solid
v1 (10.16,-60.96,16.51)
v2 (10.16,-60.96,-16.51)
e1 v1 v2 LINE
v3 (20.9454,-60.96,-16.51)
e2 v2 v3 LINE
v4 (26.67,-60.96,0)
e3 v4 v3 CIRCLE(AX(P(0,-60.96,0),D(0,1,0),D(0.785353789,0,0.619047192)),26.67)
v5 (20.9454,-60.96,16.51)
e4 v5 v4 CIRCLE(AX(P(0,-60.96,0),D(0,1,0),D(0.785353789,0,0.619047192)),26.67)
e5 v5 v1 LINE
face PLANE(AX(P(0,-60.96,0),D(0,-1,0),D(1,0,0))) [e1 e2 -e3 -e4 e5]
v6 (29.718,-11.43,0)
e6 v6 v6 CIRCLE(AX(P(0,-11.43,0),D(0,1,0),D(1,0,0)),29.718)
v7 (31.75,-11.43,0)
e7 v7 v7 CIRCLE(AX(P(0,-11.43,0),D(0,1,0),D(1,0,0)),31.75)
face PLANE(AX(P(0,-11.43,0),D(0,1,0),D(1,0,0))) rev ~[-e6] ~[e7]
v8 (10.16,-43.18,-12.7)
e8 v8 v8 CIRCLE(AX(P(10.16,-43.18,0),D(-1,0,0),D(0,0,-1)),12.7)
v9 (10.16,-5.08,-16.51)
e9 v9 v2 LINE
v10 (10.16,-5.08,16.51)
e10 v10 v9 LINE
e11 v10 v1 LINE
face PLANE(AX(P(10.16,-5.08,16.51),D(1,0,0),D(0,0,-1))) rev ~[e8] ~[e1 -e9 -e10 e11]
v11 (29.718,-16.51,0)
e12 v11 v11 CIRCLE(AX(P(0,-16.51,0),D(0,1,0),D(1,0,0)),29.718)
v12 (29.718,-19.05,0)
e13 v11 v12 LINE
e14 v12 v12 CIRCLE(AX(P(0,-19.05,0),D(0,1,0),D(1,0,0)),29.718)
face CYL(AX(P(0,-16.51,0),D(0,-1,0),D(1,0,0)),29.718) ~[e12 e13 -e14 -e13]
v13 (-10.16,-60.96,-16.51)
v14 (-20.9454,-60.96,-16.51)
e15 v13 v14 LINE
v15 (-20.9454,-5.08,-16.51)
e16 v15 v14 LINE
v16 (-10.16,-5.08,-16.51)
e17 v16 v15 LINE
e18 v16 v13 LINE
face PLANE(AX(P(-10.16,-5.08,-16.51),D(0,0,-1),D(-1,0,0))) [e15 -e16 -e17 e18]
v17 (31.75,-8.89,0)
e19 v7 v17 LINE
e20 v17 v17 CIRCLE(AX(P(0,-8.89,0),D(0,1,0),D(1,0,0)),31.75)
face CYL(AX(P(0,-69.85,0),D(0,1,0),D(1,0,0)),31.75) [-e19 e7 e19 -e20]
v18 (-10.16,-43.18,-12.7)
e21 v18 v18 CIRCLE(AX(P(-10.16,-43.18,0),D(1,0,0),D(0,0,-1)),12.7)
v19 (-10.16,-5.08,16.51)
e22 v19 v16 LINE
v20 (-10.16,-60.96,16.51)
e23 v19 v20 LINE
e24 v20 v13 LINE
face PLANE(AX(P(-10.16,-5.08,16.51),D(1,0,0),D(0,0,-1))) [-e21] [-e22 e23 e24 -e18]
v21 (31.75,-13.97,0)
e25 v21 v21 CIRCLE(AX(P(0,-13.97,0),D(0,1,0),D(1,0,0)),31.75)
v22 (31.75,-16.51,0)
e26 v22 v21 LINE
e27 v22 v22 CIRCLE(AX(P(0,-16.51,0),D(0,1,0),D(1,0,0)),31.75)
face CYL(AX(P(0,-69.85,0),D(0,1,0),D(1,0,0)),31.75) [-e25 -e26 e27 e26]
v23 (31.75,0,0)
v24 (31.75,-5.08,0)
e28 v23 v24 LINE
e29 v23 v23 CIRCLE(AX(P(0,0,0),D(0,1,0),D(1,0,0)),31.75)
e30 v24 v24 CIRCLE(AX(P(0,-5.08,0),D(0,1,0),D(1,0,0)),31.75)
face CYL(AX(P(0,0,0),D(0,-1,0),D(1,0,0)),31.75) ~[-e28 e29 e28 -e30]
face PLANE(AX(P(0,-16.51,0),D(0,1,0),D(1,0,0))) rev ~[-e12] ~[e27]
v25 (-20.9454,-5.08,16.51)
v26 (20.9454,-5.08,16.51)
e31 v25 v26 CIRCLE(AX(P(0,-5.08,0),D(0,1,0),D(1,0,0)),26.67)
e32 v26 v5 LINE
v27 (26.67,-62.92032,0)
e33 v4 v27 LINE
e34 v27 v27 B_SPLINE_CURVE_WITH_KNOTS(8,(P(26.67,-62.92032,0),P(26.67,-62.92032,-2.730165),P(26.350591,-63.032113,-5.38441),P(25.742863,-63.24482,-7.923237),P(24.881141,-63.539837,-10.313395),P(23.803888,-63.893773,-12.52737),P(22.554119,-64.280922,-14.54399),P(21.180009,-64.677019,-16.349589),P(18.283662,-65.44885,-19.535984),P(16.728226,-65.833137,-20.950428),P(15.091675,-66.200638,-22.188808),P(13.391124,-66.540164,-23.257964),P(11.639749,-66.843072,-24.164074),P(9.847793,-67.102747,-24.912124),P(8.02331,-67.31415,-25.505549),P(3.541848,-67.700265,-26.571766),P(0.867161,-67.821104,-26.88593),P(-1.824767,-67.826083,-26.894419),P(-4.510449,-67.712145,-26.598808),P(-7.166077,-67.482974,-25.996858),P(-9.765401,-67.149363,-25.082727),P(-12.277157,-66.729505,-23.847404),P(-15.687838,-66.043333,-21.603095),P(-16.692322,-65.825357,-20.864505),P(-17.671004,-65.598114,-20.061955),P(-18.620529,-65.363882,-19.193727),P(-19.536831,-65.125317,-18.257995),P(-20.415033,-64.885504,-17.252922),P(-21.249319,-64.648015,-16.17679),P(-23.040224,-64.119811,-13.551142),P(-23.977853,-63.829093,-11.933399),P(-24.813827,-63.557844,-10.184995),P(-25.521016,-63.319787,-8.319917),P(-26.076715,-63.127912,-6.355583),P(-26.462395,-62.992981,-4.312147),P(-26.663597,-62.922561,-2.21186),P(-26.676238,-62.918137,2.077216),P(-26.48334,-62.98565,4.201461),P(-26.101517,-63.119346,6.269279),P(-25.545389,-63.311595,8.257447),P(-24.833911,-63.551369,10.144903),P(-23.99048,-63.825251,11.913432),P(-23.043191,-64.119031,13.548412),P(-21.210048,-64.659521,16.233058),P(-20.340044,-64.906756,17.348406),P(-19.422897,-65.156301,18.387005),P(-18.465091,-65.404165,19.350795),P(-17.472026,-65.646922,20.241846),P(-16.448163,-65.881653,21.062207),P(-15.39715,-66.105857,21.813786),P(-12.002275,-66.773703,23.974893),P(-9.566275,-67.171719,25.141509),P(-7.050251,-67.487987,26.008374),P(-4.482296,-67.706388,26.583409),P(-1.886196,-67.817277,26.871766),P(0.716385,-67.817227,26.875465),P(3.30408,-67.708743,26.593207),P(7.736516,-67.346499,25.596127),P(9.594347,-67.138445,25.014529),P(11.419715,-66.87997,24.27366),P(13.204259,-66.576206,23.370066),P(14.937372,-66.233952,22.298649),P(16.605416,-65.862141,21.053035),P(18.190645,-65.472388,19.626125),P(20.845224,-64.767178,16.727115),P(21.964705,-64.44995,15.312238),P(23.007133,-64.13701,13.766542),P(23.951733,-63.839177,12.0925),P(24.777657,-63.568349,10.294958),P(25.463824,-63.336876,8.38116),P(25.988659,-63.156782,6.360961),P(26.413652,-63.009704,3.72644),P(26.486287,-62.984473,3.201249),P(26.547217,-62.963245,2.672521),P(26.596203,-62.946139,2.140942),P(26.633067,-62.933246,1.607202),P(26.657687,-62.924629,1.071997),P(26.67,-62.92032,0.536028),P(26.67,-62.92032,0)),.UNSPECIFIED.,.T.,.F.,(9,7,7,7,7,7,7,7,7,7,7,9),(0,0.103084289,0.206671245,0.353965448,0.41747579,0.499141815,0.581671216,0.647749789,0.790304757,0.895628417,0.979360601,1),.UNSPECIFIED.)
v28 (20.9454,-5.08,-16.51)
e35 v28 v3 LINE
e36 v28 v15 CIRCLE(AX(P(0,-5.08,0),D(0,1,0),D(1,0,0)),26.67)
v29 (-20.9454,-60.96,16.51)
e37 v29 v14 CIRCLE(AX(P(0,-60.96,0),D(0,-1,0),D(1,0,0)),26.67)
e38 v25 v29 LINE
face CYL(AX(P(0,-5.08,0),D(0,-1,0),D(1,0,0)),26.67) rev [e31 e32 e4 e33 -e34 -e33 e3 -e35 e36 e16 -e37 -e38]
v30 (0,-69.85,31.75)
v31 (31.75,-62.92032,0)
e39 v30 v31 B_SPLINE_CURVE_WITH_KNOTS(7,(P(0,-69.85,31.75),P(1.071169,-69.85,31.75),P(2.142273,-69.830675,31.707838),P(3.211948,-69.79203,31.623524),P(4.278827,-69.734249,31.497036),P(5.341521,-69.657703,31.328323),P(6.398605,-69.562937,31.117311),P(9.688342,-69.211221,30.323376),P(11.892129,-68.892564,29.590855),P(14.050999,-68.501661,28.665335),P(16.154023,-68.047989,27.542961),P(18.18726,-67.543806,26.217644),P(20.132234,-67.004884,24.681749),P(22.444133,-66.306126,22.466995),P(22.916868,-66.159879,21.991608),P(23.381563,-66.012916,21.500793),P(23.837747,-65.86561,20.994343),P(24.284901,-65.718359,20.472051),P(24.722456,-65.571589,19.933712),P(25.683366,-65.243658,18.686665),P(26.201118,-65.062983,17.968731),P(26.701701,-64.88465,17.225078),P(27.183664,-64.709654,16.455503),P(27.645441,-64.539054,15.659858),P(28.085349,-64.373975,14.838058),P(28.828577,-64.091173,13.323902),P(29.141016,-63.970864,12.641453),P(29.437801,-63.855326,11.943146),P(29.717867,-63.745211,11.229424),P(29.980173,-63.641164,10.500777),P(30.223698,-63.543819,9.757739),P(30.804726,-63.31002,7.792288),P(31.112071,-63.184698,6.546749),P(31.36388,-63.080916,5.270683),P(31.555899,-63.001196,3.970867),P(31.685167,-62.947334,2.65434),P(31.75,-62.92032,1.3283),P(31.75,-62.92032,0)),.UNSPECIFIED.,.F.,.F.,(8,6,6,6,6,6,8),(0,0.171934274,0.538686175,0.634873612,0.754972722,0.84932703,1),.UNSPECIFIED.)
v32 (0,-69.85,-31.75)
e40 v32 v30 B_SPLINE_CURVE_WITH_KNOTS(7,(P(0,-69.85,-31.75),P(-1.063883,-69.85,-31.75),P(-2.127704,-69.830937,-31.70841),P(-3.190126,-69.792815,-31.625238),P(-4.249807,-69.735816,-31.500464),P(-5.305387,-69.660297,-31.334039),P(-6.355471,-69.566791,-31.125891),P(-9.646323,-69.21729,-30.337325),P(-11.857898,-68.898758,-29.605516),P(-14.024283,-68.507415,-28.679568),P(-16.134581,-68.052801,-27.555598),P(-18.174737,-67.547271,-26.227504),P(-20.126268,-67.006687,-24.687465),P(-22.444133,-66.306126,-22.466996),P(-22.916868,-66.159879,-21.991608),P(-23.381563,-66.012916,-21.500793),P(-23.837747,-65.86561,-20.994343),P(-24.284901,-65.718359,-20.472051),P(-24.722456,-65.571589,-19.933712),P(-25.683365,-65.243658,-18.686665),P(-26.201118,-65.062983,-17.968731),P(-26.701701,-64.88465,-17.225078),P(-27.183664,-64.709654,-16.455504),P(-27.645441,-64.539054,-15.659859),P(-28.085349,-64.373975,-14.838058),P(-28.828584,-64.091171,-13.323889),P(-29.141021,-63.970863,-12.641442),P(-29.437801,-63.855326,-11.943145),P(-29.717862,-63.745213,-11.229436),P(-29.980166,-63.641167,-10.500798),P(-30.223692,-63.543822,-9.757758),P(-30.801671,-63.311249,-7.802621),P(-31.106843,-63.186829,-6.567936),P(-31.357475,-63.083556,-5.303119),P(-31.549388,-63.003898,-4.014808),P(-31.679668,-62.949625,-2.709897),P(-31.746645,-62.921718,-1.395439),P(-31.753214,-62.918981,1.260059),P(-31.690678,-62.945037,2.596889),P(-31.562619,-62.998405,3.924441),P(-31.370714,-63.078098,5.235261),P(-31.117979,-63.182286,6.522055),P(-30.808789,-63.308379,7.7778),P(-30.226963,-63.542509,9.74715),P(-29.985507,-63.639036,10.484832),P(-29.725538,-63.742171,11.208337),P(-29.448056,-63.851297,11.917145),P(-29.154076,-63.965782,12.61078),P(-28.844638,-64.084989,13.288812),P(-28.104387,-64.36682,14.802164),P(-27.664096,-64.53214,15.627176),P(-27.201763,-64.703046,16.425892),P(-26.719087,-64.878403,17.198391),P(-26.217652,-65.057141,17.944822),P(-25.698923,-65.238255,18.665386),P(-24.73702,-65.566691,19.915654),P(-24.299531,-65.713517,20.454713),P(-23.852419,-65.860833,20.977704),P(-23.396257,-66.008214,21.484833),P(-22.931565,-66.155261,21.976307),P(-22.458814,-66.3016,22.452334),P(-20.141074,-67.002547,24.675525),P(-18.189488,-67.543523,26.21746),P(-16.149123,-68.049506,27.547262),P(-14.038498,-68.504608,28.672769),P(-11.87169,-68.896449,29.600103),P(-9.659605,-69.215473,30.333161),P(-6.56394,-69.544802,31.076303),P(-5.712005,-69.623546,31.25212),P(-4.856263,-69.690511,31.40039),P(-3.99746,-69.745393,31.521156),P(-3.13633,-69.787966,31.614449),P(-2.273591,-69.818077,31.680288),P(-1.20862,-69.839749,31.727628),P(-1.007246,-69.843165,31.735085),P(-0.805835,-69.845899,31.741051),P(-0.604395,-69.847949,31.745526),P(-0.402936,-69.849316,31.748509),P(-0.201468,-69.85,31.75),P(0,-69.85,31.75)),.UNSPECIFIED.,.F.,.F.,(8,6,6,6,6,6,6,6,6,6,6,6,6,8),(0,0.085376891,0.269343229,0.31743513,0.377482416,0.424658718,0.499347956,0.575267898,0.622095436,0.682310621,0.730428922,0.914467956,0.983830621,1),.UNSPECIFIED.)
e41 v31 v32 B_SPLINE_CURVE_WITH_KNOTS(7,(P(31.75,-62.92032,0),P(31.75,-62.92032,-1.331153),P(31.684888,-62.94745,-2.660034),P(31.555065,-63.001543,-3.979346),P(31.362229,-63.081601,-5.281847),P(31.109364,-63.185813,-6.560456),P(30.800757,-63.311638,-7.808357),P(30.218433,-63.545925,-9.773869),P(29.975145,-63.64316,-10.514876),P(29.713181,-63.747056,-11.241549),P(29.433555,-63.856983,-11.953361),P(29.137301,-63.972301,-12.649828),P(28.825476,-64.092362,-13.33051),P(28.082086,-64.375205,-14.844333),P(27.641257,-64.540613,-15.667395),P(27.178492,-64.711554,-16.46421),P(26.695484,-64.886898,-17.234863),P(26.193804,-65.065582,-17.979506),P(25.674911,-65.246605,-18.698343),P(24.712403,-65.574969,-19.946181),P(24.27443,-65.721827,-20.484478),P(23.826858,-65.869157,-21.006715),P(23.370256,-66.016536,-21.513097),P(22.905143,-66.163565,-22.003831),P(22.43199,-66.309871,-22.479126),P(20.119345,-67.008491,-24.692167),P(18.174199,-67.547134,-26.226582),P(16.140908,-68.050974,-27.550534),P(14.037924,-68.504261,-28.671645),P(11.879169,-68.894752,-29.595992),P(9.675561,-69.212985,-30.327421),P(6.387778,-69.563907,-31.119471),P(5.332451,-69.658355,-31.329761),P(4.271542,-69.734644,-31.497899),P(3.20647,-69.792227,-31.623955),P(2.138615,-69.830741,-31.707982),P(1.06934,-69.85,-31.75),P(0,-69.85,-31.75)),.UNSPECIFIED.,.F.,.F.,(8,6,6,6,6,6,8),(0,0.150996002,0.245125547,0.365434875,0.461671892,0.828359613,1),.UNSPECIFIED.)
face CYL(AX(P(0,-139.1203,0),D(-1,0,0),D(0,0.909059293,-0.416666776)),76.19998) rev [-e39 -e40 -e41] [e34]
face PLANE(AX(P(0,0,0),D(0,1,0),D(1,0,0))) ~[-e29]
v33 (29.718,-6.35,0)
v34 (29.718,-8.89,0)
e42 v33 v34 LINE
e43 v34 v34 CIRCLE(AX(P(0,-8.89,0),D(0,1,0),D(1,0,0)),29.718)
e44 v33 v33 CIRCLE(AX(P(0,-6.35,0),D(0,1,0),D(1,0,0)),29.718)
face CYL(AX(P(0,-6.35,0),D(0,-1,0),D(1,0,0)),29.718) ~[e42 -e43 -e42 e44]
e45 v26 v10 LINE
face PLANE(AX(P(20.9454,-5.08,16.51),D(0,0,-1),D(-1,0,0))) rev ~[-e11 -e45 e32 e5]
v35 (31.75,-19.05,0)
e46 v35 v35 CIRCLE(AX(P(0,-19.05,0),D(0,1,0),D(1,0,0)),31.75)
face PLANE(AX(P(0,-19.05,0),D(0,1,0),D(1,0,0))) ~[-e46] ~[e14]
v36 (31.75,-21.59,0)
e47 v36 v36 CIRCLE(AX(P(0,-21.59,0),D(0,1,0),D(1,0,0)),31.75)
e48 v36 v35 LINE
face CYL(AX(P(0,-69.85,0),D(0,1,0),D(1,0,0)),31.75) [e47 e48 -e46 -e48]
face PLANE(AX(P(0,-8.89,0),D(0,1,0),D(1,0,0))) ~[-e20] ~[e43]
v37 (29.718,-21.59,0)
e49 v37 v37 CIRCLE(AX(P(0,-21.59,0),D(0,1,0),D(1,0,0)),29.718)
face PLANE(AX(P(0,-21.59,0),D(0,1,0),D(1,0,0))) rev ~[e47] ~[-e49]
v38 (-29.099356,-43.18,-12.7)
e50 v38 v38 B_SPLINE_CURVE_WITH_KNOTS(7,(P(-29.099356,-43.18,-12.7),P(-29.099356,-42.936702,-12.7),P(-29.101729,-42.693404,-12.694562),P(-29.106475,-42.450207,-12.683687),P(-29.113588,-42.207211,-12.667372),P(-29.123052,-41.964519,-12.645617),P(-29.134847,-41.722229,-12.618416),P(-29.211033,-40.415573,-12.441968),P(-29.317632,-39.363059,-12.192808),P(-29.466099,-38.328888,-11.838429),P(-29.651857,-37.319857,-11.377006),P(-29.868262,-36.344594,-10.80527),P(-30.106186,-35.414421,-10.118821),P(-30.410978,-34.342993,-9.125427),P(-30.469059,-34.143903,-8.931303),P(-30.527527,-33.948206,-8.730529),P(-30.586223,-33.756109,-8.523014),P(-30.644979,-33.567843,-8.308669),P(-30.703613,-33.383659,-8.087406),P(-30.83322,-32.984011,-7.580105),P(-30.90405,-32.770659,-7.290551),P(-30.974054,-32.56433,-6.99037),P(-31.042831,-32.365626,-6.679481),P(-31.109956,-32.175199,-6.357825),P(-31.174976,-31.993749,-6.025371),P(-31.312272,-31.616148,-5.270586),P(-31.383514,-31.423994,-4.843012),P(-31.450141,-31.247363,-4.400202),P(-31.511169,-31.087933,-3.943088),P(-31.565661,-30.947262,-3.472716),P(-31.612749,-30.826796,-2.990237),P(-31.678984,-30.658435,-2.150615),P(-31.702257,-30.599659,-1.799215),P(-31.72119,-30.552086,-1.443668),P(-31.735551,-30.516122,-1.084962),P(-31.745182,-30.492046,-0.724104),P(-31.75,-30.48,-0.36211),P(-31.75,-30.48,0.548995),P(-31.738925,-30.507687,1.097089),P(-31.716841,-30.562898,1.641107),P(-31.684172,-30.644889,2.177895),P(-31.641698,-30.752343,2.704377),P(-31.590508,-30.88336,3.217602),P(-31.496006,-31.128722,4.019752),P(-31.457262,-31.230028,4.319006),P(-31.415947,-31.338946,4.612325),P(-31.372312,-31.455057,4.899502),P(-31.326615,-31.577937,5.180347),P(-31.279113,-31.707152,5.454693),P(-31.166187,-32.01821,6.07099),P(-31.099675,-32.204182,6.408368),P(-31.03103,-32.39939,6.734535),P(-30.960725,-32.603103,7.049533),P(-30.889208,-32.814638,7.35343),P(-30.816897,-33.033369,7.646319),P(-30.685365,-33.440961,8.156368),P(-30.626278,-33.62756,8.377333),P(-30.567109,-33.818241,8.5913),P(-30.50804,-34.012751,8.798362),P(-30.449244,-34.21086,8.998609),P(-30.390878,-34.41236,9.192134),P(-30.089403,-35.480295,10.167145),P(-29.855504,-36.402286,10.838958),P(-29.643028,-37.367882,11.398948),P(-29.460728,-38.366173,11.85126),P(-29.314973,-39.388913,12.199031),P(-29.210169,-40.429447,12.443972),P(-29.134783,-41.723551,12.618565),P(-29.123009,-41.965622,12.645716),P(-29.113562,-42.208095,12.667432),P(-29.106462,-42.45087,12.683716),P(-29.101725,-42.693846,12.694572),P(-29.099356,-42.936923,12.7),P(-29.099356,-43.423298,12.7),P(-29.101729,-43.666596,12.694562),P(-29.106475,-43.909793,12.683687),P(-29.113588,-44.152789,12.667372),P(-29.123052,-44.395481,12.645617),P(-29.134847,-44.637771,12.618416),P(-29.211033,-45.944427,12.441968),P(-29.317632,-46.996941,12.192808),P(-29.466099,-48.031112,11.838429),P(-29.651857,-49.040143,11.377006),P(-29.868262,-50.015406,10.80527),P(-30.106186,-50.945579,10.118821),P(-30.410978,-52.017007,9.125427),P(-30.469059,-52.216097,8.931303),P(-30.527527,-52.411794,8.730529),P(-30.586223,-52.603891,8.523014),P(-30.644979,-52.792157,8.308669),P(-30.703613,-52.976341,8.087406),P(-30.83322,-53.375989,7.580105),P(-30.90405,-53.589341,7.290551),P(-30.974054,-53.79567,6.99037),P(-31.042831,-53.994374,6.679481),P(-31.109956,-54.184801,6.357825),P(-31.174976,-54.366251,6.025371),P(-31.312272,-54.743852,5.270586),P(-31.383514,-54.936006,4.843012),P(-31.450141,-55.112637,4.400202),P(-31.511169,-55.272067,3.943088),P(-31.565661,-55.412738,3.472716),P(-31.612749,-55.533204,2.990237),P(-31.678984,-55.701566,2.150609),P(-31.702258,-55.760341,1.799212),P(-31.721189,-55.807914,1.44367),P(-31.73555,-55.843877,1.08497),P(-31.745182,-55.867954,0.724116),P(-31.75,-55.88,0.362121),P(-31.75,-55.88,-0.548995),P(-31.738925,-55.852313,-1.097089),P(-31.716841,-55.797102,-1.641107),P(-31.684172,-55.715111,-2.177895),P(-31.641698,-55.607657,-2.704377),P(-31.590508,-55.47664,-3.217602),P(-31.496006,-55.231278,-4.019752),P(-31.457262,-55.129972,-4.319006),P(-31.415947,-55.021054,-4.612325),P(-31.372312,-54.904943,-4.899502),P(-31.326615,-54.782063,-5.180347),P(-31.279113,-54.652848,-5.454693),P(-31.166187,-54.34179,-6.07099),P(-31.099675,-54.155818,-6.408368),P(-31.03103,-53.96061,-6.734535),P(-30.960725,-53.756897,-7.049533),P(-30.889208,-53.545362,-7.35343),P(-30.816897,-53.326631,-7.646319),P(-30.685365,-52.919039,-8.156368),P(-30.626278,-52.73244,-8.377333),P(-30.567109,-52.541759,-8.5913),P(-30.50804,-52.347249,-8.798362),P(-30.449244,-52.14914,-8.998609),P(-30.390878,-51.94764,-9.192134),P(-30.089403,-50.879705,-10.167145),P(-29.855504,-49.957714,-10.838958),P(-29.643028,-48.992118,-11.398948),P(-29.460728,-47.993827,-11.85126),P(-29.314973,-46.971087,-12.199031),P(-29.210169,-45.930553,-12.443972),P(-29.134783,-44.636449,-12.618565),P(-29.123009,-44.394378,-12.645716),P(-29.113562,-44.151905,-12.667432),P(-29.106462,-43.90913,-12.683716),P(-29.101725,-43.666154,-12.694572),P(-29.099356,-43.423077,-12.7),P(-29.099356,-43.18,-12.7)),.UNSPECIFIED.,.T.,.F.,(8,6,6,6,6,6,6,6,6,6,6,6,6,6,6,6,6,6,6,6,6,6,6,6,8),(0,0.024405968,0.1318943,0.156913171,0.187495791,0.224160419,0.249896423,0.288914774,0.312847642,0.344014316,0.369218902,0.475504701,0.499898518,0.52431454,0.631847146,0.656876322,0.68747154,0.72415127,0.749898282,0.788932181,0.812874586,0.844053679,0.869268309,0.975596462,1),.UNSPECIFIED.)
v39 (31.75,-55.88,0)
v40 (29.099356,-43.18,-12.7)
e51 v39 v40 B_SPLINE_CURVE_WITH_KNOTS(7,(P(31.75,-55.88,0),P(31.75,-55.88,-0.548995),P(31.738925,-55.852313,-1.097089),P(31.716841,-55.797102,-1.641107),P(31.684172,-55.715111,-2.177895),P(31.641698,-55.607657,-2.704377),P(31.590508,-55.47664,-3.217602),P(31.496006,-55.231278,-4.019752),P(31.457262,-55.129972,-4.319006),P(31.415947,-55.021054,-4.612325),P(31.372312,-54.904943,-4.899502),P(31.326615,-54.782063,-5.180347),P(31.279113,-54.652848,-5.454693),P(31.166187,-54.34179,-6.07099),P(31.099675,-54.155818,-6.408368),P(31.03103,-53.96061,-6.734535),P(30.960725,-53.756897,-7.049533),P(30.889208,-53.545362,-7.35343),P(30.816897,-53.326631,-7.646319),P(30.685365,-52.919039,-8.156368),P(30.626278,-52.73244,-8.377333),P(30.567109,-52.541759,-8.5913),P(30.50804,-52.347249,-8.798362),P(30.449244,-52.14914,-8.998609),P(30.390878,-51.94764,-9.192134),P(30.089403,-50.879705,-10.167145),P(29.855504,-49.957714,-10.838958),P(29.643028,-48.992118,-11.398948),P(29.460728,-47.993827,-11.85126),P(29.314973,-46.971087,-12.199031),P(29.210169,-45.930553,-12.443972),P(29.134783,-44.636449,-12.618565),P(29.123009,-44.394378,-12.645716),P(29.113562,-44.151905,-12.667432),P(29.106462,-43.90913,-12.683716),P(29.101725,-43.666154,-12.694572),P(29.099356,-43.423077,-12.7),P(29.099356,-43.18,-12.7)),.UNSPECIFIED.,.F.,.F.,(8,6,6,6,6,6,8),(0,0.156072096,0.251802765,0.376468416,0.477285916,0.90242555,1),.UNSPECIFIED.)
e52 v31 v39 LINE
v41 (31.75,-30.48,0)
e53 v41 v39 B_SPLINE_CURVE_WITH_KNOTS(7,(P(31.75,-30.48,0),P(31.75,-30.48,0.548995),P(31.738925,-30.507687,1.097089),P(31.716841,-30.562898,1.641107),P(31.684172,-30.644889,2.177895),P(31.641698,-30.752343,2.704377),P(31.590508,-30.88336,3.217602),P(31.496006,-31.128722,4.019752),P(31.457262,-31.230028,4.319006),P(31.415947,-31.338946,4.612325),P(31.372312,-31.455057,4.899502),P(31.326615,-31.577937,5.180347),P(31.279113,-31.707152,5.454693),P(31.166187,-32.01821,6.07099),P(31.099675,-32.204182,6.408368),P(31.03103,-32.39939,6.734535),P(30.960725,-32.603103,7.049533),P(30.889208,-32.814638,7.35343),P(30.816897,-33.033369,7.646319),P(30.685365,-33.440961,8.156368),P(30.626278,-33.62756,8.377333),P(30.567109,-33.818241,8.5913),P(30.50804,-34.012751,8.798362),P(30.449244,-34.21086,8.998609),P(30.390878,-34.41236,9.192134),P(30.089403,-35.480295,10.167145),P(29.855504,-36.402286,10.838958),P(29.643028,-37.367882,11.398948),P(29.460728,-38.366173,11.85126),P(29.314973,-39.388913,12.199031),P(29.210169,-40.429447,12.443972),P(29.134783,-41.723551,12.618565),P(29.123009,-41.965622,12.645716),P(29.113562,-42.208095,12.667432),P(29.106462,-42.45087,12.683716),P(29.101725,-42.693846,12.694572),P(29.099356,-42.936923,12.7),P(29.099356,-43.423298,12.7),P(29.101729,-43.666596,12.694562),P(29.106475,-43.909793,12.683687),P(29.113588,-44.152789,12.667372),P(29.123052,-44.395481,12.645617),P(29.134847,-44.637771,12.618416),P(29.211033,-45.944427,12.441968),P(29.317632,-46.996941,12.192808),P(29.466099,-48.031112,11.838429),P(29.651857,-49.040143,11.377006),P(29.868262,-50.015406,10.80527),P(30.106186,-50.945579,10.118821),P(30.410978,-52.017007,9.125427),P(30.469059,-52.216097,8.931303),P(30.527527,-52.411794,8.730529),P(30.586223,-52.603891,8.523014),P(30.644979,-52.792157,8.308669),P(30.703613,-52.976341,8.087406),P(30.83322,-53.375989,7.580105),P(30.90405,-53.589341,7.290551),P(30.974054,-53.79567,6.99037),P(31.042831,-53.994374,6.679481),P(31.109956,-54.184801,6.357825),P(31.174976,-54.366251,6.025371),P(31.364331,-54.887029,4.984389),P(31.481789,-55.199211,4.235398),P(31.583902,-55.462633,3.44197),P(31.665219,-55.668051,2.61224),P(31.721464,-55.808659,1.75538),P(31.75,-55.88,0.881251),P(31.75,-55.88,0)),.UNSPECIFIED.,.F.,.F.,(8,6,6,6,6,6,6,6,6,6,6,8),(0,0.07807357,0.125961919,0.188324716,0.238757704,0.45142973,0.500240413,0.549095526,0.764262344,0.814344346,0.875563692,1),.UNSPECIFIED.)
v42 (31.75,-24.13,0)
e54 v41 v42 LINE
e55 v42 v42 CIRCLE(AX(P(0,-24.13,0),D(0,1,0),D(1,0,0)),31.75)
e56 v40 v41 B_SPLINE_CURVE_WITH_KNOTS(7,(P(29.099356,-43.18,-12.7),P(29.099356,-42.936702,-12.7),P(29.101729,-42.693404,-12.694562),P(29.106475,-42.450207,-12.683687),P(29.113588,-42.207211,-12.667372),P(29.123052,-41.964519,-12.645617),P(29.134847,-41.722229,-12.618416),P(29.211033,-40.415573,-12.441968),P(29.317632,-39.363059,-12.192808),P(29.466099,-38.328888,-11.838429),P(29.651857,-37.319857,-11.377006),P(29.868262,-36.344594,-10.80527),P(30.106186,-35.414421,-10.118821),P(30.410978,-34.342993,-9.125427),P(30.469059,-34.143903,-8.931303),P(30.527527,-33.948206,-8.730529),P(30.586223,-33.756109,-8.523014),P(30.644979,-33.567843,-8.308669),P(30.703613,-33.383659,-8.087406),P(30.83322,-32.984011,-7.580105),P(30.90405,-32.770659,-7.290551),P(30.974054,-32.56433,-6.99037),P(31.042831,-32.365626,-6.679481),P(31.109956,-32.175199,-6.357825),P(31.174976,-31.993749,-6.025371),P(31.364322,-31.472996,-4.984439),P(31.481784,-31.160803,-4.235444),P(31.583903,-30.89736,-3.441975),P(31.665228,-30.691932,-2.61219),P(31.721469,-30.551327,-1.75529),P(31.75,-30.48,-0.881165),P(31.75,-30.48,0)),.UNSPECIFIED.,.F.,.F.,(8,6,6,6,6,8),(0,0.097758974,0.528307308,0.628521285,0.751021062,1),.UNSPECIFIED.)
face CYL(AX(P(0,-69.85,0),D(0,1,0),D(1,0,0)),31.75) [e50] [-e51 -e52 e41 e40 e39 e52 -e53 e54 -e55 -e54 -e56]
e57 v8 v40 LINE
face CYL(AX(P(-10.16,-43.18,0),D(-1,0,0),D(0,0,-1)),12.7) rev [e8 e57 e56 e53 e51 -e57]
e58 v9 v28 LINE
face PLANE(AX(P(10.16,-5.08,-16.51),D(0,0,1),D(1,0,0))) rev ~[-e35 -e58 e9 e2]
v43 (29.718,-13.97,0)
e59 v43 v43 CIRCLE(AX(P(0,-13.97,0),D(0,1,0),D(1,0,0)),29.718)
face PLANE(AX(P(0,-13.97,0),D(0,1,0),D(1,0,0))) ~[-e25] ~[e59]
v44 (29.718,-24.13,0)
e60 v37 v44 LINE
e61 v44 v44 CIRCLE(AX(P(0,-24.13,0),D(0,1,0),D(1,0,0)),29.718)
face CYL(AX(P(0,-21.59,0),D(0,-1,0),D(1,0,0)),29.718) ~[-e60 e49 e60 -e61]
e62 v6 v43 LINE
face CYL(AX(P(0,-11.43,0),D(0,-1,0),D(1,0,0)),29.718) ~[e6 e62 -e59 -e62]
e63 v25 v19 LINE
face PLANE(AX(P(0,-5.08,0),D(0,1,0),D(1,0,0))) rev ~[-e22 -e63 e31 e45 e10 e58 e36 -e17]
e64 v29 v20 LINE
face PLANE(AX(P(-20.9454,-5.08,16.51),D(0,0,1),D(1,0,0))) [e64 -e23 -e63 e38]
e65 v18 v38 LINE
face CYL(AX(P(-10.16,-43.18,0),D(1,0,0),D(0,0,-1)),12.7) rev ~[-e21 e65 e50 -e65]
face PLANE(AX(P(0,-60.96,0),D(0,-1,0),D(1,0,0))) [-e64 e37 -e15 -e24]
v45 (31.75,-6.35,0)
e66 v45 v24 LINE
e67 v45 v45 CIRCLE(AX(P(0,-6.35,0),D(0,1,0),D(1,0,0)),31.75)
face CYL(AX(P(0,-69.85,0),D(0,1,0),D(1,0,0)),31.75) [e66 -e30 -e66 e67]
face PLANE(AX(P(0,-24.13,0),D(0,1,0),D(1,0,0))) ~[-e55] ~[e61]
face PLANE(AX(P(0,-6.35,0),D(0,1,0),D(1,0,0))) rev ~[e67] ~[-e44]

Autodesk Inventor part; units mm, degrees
ref_plane "YZ Plane" through (0, 0, 0) normal (1, 0, 0) x (0, 1, 0)
ref_plane "XZ Plane" through (0, 0, 0) normal (0, 1, 0) x (-1, 0, 0)
ref_plane "XY Plane" through (0, 0, 0) normal (0, 0, 1) x (1, 0, 0)
sketch "Sketch1" plane through (0, 0, 0) normal (0, 0, 1) x (1, 0, 0)
  line L0 (0, 0) -> (31.75, 0)
  line L1 (31.75, 0) -> (31.75, -5.08)
  line L2 (31.75, -5.08) -> (0, -5.08)
  line L3 (0, -5.08) -> (0, 0)
  line L4 (31.75, -5.08) -> (26.67, -5.08)
  line L5 (26.67, -5.08) -> (26.67, -69.85)
  line L6 (26.67, -69.85) -> (31.75, -69.85)
  line L7 (31.75, -69.85) -> (31.75, -5.08)
  line L8 (0, 0) -> (0, 62.0882)
  line L9 (31.75, -6.35) -> (29.718, -6.35)
  line L10 (29.718, -6.35) -> (29.718, -8.89)
  line L11 (29.718, -8.89) -> (31.75, -8.89)
  line L12 (31.75, -8.89) -> (31.75, -6.35)
  line L13 (31.75, -11.43) -> (29.718, -11.43)
  line L14 (29.718, -11.43) -> (29.718, -13.97)
  line L15 (29.718, -13.97) -> (31.75, -13.97)
  line L16 (31.75, -13.97) -> (31.75, -11.43)
  line L17 (31.75, -16.51) -> (29.718, -16.51)
  line L18 (29.718, -16.51) -> (29.718, -19.05)
  line L19 (29.718, -19.05) -> (31.75, -19.05)
  line L20 (31.75, -19.05) -> (31.75, -16.51)
  line L21 (31.75, -21.59) -> (29.718, -21.59)
  line L22 (29.718, -21.59) -> (29.718, -24.13)
  line L23 (29.718, -24.13) -> (31.75, -24.13)
  line L24 (31.75, -24.13) -> (31.75, -21.59)
  line L25 (0, -96.2376) -> (0, 88.4758) projected
  dimension "d0" = 69.85
  dimension "d1" = 5.08
  dimension "d2" = 63.5
  dimension "d3" = 2.032
  dimension "d4" = 2.54
  dimension "d5" = 6.35
  dimension "d6" = 5.08
  dimension "d7" = 5.08
  dimension "d8" = 5.08
revolve "Revolution1" add sketch "Sketch1" angle 360 about axis through (0, -10, 0) along (0, 1, 0) contours L0 L1 L2 L3 | L7 L9 L10 L11 L13 L14 L15 L17 L18 L19 L21 L22 L23 L6 L5 L2
sketch "Sketch2" plane through (0, -5.08, 0) normal (0, -1, 0) x (1, 0, 0)
  circle A0 centre (0, 0) radius 26.67 projected
  line L0 (20.9454, 16.51) -> (10.16, 16.51)
  line L1 (10.16, 16.51) -> (10.16, -16.51)
  line L2 (10.16, -16.51) -> (20.9454, -16.51)
  line L3 (-20.9454, 16.51) -> (-10.16, 16.51)
  line L4 (-10.16, 16.51) -> (-10.16, -16.51)
  line L5 (-10.16, -16.51) -> (-20.9454, -16.51)
  dimension "d10" = 33.02
  dimension "d11" = 20.32
extrude "Extrusion1" add sketch "Sketch2" along normal blind 55.88 contours A0 L2 L1 L0 | L3 L4 L5 A0
sketch "Sketch3" plane through (-10.16, -5.08, 16.51) normal (1, 0, 0) x (0, 0, -1)
  circle A0 centre (16.51, -38.1) radius 12.7
  line L0 (48.26, 5.08) -> (-15.24, 5.08) projected
  point P0 (16.51, 5.08)
  dimension "d14" = 25.4
  dimension "d15" = 43.18
extrude "Extrusion2" cut sketch "Sketch3" along normal through all both and the other way through all
sketch "Sketch4" plane through (0, 0, 0) normal (1, 0, 0) x (0, 1, 0)
  line L0 (-69.85, -31.75) -> (-69.85, 31.75) projected
  arc A0 (-69.85, -31.75) -> (-69.85, 31.75) centre (-139.1203, 0) ccw
  point P0 (0, 0)
  dimension "d18" = 76.2
extrude "Extrusion3" cut sketch "Sketch4" along normal through all both and the other way through all
properties part number "piston"
